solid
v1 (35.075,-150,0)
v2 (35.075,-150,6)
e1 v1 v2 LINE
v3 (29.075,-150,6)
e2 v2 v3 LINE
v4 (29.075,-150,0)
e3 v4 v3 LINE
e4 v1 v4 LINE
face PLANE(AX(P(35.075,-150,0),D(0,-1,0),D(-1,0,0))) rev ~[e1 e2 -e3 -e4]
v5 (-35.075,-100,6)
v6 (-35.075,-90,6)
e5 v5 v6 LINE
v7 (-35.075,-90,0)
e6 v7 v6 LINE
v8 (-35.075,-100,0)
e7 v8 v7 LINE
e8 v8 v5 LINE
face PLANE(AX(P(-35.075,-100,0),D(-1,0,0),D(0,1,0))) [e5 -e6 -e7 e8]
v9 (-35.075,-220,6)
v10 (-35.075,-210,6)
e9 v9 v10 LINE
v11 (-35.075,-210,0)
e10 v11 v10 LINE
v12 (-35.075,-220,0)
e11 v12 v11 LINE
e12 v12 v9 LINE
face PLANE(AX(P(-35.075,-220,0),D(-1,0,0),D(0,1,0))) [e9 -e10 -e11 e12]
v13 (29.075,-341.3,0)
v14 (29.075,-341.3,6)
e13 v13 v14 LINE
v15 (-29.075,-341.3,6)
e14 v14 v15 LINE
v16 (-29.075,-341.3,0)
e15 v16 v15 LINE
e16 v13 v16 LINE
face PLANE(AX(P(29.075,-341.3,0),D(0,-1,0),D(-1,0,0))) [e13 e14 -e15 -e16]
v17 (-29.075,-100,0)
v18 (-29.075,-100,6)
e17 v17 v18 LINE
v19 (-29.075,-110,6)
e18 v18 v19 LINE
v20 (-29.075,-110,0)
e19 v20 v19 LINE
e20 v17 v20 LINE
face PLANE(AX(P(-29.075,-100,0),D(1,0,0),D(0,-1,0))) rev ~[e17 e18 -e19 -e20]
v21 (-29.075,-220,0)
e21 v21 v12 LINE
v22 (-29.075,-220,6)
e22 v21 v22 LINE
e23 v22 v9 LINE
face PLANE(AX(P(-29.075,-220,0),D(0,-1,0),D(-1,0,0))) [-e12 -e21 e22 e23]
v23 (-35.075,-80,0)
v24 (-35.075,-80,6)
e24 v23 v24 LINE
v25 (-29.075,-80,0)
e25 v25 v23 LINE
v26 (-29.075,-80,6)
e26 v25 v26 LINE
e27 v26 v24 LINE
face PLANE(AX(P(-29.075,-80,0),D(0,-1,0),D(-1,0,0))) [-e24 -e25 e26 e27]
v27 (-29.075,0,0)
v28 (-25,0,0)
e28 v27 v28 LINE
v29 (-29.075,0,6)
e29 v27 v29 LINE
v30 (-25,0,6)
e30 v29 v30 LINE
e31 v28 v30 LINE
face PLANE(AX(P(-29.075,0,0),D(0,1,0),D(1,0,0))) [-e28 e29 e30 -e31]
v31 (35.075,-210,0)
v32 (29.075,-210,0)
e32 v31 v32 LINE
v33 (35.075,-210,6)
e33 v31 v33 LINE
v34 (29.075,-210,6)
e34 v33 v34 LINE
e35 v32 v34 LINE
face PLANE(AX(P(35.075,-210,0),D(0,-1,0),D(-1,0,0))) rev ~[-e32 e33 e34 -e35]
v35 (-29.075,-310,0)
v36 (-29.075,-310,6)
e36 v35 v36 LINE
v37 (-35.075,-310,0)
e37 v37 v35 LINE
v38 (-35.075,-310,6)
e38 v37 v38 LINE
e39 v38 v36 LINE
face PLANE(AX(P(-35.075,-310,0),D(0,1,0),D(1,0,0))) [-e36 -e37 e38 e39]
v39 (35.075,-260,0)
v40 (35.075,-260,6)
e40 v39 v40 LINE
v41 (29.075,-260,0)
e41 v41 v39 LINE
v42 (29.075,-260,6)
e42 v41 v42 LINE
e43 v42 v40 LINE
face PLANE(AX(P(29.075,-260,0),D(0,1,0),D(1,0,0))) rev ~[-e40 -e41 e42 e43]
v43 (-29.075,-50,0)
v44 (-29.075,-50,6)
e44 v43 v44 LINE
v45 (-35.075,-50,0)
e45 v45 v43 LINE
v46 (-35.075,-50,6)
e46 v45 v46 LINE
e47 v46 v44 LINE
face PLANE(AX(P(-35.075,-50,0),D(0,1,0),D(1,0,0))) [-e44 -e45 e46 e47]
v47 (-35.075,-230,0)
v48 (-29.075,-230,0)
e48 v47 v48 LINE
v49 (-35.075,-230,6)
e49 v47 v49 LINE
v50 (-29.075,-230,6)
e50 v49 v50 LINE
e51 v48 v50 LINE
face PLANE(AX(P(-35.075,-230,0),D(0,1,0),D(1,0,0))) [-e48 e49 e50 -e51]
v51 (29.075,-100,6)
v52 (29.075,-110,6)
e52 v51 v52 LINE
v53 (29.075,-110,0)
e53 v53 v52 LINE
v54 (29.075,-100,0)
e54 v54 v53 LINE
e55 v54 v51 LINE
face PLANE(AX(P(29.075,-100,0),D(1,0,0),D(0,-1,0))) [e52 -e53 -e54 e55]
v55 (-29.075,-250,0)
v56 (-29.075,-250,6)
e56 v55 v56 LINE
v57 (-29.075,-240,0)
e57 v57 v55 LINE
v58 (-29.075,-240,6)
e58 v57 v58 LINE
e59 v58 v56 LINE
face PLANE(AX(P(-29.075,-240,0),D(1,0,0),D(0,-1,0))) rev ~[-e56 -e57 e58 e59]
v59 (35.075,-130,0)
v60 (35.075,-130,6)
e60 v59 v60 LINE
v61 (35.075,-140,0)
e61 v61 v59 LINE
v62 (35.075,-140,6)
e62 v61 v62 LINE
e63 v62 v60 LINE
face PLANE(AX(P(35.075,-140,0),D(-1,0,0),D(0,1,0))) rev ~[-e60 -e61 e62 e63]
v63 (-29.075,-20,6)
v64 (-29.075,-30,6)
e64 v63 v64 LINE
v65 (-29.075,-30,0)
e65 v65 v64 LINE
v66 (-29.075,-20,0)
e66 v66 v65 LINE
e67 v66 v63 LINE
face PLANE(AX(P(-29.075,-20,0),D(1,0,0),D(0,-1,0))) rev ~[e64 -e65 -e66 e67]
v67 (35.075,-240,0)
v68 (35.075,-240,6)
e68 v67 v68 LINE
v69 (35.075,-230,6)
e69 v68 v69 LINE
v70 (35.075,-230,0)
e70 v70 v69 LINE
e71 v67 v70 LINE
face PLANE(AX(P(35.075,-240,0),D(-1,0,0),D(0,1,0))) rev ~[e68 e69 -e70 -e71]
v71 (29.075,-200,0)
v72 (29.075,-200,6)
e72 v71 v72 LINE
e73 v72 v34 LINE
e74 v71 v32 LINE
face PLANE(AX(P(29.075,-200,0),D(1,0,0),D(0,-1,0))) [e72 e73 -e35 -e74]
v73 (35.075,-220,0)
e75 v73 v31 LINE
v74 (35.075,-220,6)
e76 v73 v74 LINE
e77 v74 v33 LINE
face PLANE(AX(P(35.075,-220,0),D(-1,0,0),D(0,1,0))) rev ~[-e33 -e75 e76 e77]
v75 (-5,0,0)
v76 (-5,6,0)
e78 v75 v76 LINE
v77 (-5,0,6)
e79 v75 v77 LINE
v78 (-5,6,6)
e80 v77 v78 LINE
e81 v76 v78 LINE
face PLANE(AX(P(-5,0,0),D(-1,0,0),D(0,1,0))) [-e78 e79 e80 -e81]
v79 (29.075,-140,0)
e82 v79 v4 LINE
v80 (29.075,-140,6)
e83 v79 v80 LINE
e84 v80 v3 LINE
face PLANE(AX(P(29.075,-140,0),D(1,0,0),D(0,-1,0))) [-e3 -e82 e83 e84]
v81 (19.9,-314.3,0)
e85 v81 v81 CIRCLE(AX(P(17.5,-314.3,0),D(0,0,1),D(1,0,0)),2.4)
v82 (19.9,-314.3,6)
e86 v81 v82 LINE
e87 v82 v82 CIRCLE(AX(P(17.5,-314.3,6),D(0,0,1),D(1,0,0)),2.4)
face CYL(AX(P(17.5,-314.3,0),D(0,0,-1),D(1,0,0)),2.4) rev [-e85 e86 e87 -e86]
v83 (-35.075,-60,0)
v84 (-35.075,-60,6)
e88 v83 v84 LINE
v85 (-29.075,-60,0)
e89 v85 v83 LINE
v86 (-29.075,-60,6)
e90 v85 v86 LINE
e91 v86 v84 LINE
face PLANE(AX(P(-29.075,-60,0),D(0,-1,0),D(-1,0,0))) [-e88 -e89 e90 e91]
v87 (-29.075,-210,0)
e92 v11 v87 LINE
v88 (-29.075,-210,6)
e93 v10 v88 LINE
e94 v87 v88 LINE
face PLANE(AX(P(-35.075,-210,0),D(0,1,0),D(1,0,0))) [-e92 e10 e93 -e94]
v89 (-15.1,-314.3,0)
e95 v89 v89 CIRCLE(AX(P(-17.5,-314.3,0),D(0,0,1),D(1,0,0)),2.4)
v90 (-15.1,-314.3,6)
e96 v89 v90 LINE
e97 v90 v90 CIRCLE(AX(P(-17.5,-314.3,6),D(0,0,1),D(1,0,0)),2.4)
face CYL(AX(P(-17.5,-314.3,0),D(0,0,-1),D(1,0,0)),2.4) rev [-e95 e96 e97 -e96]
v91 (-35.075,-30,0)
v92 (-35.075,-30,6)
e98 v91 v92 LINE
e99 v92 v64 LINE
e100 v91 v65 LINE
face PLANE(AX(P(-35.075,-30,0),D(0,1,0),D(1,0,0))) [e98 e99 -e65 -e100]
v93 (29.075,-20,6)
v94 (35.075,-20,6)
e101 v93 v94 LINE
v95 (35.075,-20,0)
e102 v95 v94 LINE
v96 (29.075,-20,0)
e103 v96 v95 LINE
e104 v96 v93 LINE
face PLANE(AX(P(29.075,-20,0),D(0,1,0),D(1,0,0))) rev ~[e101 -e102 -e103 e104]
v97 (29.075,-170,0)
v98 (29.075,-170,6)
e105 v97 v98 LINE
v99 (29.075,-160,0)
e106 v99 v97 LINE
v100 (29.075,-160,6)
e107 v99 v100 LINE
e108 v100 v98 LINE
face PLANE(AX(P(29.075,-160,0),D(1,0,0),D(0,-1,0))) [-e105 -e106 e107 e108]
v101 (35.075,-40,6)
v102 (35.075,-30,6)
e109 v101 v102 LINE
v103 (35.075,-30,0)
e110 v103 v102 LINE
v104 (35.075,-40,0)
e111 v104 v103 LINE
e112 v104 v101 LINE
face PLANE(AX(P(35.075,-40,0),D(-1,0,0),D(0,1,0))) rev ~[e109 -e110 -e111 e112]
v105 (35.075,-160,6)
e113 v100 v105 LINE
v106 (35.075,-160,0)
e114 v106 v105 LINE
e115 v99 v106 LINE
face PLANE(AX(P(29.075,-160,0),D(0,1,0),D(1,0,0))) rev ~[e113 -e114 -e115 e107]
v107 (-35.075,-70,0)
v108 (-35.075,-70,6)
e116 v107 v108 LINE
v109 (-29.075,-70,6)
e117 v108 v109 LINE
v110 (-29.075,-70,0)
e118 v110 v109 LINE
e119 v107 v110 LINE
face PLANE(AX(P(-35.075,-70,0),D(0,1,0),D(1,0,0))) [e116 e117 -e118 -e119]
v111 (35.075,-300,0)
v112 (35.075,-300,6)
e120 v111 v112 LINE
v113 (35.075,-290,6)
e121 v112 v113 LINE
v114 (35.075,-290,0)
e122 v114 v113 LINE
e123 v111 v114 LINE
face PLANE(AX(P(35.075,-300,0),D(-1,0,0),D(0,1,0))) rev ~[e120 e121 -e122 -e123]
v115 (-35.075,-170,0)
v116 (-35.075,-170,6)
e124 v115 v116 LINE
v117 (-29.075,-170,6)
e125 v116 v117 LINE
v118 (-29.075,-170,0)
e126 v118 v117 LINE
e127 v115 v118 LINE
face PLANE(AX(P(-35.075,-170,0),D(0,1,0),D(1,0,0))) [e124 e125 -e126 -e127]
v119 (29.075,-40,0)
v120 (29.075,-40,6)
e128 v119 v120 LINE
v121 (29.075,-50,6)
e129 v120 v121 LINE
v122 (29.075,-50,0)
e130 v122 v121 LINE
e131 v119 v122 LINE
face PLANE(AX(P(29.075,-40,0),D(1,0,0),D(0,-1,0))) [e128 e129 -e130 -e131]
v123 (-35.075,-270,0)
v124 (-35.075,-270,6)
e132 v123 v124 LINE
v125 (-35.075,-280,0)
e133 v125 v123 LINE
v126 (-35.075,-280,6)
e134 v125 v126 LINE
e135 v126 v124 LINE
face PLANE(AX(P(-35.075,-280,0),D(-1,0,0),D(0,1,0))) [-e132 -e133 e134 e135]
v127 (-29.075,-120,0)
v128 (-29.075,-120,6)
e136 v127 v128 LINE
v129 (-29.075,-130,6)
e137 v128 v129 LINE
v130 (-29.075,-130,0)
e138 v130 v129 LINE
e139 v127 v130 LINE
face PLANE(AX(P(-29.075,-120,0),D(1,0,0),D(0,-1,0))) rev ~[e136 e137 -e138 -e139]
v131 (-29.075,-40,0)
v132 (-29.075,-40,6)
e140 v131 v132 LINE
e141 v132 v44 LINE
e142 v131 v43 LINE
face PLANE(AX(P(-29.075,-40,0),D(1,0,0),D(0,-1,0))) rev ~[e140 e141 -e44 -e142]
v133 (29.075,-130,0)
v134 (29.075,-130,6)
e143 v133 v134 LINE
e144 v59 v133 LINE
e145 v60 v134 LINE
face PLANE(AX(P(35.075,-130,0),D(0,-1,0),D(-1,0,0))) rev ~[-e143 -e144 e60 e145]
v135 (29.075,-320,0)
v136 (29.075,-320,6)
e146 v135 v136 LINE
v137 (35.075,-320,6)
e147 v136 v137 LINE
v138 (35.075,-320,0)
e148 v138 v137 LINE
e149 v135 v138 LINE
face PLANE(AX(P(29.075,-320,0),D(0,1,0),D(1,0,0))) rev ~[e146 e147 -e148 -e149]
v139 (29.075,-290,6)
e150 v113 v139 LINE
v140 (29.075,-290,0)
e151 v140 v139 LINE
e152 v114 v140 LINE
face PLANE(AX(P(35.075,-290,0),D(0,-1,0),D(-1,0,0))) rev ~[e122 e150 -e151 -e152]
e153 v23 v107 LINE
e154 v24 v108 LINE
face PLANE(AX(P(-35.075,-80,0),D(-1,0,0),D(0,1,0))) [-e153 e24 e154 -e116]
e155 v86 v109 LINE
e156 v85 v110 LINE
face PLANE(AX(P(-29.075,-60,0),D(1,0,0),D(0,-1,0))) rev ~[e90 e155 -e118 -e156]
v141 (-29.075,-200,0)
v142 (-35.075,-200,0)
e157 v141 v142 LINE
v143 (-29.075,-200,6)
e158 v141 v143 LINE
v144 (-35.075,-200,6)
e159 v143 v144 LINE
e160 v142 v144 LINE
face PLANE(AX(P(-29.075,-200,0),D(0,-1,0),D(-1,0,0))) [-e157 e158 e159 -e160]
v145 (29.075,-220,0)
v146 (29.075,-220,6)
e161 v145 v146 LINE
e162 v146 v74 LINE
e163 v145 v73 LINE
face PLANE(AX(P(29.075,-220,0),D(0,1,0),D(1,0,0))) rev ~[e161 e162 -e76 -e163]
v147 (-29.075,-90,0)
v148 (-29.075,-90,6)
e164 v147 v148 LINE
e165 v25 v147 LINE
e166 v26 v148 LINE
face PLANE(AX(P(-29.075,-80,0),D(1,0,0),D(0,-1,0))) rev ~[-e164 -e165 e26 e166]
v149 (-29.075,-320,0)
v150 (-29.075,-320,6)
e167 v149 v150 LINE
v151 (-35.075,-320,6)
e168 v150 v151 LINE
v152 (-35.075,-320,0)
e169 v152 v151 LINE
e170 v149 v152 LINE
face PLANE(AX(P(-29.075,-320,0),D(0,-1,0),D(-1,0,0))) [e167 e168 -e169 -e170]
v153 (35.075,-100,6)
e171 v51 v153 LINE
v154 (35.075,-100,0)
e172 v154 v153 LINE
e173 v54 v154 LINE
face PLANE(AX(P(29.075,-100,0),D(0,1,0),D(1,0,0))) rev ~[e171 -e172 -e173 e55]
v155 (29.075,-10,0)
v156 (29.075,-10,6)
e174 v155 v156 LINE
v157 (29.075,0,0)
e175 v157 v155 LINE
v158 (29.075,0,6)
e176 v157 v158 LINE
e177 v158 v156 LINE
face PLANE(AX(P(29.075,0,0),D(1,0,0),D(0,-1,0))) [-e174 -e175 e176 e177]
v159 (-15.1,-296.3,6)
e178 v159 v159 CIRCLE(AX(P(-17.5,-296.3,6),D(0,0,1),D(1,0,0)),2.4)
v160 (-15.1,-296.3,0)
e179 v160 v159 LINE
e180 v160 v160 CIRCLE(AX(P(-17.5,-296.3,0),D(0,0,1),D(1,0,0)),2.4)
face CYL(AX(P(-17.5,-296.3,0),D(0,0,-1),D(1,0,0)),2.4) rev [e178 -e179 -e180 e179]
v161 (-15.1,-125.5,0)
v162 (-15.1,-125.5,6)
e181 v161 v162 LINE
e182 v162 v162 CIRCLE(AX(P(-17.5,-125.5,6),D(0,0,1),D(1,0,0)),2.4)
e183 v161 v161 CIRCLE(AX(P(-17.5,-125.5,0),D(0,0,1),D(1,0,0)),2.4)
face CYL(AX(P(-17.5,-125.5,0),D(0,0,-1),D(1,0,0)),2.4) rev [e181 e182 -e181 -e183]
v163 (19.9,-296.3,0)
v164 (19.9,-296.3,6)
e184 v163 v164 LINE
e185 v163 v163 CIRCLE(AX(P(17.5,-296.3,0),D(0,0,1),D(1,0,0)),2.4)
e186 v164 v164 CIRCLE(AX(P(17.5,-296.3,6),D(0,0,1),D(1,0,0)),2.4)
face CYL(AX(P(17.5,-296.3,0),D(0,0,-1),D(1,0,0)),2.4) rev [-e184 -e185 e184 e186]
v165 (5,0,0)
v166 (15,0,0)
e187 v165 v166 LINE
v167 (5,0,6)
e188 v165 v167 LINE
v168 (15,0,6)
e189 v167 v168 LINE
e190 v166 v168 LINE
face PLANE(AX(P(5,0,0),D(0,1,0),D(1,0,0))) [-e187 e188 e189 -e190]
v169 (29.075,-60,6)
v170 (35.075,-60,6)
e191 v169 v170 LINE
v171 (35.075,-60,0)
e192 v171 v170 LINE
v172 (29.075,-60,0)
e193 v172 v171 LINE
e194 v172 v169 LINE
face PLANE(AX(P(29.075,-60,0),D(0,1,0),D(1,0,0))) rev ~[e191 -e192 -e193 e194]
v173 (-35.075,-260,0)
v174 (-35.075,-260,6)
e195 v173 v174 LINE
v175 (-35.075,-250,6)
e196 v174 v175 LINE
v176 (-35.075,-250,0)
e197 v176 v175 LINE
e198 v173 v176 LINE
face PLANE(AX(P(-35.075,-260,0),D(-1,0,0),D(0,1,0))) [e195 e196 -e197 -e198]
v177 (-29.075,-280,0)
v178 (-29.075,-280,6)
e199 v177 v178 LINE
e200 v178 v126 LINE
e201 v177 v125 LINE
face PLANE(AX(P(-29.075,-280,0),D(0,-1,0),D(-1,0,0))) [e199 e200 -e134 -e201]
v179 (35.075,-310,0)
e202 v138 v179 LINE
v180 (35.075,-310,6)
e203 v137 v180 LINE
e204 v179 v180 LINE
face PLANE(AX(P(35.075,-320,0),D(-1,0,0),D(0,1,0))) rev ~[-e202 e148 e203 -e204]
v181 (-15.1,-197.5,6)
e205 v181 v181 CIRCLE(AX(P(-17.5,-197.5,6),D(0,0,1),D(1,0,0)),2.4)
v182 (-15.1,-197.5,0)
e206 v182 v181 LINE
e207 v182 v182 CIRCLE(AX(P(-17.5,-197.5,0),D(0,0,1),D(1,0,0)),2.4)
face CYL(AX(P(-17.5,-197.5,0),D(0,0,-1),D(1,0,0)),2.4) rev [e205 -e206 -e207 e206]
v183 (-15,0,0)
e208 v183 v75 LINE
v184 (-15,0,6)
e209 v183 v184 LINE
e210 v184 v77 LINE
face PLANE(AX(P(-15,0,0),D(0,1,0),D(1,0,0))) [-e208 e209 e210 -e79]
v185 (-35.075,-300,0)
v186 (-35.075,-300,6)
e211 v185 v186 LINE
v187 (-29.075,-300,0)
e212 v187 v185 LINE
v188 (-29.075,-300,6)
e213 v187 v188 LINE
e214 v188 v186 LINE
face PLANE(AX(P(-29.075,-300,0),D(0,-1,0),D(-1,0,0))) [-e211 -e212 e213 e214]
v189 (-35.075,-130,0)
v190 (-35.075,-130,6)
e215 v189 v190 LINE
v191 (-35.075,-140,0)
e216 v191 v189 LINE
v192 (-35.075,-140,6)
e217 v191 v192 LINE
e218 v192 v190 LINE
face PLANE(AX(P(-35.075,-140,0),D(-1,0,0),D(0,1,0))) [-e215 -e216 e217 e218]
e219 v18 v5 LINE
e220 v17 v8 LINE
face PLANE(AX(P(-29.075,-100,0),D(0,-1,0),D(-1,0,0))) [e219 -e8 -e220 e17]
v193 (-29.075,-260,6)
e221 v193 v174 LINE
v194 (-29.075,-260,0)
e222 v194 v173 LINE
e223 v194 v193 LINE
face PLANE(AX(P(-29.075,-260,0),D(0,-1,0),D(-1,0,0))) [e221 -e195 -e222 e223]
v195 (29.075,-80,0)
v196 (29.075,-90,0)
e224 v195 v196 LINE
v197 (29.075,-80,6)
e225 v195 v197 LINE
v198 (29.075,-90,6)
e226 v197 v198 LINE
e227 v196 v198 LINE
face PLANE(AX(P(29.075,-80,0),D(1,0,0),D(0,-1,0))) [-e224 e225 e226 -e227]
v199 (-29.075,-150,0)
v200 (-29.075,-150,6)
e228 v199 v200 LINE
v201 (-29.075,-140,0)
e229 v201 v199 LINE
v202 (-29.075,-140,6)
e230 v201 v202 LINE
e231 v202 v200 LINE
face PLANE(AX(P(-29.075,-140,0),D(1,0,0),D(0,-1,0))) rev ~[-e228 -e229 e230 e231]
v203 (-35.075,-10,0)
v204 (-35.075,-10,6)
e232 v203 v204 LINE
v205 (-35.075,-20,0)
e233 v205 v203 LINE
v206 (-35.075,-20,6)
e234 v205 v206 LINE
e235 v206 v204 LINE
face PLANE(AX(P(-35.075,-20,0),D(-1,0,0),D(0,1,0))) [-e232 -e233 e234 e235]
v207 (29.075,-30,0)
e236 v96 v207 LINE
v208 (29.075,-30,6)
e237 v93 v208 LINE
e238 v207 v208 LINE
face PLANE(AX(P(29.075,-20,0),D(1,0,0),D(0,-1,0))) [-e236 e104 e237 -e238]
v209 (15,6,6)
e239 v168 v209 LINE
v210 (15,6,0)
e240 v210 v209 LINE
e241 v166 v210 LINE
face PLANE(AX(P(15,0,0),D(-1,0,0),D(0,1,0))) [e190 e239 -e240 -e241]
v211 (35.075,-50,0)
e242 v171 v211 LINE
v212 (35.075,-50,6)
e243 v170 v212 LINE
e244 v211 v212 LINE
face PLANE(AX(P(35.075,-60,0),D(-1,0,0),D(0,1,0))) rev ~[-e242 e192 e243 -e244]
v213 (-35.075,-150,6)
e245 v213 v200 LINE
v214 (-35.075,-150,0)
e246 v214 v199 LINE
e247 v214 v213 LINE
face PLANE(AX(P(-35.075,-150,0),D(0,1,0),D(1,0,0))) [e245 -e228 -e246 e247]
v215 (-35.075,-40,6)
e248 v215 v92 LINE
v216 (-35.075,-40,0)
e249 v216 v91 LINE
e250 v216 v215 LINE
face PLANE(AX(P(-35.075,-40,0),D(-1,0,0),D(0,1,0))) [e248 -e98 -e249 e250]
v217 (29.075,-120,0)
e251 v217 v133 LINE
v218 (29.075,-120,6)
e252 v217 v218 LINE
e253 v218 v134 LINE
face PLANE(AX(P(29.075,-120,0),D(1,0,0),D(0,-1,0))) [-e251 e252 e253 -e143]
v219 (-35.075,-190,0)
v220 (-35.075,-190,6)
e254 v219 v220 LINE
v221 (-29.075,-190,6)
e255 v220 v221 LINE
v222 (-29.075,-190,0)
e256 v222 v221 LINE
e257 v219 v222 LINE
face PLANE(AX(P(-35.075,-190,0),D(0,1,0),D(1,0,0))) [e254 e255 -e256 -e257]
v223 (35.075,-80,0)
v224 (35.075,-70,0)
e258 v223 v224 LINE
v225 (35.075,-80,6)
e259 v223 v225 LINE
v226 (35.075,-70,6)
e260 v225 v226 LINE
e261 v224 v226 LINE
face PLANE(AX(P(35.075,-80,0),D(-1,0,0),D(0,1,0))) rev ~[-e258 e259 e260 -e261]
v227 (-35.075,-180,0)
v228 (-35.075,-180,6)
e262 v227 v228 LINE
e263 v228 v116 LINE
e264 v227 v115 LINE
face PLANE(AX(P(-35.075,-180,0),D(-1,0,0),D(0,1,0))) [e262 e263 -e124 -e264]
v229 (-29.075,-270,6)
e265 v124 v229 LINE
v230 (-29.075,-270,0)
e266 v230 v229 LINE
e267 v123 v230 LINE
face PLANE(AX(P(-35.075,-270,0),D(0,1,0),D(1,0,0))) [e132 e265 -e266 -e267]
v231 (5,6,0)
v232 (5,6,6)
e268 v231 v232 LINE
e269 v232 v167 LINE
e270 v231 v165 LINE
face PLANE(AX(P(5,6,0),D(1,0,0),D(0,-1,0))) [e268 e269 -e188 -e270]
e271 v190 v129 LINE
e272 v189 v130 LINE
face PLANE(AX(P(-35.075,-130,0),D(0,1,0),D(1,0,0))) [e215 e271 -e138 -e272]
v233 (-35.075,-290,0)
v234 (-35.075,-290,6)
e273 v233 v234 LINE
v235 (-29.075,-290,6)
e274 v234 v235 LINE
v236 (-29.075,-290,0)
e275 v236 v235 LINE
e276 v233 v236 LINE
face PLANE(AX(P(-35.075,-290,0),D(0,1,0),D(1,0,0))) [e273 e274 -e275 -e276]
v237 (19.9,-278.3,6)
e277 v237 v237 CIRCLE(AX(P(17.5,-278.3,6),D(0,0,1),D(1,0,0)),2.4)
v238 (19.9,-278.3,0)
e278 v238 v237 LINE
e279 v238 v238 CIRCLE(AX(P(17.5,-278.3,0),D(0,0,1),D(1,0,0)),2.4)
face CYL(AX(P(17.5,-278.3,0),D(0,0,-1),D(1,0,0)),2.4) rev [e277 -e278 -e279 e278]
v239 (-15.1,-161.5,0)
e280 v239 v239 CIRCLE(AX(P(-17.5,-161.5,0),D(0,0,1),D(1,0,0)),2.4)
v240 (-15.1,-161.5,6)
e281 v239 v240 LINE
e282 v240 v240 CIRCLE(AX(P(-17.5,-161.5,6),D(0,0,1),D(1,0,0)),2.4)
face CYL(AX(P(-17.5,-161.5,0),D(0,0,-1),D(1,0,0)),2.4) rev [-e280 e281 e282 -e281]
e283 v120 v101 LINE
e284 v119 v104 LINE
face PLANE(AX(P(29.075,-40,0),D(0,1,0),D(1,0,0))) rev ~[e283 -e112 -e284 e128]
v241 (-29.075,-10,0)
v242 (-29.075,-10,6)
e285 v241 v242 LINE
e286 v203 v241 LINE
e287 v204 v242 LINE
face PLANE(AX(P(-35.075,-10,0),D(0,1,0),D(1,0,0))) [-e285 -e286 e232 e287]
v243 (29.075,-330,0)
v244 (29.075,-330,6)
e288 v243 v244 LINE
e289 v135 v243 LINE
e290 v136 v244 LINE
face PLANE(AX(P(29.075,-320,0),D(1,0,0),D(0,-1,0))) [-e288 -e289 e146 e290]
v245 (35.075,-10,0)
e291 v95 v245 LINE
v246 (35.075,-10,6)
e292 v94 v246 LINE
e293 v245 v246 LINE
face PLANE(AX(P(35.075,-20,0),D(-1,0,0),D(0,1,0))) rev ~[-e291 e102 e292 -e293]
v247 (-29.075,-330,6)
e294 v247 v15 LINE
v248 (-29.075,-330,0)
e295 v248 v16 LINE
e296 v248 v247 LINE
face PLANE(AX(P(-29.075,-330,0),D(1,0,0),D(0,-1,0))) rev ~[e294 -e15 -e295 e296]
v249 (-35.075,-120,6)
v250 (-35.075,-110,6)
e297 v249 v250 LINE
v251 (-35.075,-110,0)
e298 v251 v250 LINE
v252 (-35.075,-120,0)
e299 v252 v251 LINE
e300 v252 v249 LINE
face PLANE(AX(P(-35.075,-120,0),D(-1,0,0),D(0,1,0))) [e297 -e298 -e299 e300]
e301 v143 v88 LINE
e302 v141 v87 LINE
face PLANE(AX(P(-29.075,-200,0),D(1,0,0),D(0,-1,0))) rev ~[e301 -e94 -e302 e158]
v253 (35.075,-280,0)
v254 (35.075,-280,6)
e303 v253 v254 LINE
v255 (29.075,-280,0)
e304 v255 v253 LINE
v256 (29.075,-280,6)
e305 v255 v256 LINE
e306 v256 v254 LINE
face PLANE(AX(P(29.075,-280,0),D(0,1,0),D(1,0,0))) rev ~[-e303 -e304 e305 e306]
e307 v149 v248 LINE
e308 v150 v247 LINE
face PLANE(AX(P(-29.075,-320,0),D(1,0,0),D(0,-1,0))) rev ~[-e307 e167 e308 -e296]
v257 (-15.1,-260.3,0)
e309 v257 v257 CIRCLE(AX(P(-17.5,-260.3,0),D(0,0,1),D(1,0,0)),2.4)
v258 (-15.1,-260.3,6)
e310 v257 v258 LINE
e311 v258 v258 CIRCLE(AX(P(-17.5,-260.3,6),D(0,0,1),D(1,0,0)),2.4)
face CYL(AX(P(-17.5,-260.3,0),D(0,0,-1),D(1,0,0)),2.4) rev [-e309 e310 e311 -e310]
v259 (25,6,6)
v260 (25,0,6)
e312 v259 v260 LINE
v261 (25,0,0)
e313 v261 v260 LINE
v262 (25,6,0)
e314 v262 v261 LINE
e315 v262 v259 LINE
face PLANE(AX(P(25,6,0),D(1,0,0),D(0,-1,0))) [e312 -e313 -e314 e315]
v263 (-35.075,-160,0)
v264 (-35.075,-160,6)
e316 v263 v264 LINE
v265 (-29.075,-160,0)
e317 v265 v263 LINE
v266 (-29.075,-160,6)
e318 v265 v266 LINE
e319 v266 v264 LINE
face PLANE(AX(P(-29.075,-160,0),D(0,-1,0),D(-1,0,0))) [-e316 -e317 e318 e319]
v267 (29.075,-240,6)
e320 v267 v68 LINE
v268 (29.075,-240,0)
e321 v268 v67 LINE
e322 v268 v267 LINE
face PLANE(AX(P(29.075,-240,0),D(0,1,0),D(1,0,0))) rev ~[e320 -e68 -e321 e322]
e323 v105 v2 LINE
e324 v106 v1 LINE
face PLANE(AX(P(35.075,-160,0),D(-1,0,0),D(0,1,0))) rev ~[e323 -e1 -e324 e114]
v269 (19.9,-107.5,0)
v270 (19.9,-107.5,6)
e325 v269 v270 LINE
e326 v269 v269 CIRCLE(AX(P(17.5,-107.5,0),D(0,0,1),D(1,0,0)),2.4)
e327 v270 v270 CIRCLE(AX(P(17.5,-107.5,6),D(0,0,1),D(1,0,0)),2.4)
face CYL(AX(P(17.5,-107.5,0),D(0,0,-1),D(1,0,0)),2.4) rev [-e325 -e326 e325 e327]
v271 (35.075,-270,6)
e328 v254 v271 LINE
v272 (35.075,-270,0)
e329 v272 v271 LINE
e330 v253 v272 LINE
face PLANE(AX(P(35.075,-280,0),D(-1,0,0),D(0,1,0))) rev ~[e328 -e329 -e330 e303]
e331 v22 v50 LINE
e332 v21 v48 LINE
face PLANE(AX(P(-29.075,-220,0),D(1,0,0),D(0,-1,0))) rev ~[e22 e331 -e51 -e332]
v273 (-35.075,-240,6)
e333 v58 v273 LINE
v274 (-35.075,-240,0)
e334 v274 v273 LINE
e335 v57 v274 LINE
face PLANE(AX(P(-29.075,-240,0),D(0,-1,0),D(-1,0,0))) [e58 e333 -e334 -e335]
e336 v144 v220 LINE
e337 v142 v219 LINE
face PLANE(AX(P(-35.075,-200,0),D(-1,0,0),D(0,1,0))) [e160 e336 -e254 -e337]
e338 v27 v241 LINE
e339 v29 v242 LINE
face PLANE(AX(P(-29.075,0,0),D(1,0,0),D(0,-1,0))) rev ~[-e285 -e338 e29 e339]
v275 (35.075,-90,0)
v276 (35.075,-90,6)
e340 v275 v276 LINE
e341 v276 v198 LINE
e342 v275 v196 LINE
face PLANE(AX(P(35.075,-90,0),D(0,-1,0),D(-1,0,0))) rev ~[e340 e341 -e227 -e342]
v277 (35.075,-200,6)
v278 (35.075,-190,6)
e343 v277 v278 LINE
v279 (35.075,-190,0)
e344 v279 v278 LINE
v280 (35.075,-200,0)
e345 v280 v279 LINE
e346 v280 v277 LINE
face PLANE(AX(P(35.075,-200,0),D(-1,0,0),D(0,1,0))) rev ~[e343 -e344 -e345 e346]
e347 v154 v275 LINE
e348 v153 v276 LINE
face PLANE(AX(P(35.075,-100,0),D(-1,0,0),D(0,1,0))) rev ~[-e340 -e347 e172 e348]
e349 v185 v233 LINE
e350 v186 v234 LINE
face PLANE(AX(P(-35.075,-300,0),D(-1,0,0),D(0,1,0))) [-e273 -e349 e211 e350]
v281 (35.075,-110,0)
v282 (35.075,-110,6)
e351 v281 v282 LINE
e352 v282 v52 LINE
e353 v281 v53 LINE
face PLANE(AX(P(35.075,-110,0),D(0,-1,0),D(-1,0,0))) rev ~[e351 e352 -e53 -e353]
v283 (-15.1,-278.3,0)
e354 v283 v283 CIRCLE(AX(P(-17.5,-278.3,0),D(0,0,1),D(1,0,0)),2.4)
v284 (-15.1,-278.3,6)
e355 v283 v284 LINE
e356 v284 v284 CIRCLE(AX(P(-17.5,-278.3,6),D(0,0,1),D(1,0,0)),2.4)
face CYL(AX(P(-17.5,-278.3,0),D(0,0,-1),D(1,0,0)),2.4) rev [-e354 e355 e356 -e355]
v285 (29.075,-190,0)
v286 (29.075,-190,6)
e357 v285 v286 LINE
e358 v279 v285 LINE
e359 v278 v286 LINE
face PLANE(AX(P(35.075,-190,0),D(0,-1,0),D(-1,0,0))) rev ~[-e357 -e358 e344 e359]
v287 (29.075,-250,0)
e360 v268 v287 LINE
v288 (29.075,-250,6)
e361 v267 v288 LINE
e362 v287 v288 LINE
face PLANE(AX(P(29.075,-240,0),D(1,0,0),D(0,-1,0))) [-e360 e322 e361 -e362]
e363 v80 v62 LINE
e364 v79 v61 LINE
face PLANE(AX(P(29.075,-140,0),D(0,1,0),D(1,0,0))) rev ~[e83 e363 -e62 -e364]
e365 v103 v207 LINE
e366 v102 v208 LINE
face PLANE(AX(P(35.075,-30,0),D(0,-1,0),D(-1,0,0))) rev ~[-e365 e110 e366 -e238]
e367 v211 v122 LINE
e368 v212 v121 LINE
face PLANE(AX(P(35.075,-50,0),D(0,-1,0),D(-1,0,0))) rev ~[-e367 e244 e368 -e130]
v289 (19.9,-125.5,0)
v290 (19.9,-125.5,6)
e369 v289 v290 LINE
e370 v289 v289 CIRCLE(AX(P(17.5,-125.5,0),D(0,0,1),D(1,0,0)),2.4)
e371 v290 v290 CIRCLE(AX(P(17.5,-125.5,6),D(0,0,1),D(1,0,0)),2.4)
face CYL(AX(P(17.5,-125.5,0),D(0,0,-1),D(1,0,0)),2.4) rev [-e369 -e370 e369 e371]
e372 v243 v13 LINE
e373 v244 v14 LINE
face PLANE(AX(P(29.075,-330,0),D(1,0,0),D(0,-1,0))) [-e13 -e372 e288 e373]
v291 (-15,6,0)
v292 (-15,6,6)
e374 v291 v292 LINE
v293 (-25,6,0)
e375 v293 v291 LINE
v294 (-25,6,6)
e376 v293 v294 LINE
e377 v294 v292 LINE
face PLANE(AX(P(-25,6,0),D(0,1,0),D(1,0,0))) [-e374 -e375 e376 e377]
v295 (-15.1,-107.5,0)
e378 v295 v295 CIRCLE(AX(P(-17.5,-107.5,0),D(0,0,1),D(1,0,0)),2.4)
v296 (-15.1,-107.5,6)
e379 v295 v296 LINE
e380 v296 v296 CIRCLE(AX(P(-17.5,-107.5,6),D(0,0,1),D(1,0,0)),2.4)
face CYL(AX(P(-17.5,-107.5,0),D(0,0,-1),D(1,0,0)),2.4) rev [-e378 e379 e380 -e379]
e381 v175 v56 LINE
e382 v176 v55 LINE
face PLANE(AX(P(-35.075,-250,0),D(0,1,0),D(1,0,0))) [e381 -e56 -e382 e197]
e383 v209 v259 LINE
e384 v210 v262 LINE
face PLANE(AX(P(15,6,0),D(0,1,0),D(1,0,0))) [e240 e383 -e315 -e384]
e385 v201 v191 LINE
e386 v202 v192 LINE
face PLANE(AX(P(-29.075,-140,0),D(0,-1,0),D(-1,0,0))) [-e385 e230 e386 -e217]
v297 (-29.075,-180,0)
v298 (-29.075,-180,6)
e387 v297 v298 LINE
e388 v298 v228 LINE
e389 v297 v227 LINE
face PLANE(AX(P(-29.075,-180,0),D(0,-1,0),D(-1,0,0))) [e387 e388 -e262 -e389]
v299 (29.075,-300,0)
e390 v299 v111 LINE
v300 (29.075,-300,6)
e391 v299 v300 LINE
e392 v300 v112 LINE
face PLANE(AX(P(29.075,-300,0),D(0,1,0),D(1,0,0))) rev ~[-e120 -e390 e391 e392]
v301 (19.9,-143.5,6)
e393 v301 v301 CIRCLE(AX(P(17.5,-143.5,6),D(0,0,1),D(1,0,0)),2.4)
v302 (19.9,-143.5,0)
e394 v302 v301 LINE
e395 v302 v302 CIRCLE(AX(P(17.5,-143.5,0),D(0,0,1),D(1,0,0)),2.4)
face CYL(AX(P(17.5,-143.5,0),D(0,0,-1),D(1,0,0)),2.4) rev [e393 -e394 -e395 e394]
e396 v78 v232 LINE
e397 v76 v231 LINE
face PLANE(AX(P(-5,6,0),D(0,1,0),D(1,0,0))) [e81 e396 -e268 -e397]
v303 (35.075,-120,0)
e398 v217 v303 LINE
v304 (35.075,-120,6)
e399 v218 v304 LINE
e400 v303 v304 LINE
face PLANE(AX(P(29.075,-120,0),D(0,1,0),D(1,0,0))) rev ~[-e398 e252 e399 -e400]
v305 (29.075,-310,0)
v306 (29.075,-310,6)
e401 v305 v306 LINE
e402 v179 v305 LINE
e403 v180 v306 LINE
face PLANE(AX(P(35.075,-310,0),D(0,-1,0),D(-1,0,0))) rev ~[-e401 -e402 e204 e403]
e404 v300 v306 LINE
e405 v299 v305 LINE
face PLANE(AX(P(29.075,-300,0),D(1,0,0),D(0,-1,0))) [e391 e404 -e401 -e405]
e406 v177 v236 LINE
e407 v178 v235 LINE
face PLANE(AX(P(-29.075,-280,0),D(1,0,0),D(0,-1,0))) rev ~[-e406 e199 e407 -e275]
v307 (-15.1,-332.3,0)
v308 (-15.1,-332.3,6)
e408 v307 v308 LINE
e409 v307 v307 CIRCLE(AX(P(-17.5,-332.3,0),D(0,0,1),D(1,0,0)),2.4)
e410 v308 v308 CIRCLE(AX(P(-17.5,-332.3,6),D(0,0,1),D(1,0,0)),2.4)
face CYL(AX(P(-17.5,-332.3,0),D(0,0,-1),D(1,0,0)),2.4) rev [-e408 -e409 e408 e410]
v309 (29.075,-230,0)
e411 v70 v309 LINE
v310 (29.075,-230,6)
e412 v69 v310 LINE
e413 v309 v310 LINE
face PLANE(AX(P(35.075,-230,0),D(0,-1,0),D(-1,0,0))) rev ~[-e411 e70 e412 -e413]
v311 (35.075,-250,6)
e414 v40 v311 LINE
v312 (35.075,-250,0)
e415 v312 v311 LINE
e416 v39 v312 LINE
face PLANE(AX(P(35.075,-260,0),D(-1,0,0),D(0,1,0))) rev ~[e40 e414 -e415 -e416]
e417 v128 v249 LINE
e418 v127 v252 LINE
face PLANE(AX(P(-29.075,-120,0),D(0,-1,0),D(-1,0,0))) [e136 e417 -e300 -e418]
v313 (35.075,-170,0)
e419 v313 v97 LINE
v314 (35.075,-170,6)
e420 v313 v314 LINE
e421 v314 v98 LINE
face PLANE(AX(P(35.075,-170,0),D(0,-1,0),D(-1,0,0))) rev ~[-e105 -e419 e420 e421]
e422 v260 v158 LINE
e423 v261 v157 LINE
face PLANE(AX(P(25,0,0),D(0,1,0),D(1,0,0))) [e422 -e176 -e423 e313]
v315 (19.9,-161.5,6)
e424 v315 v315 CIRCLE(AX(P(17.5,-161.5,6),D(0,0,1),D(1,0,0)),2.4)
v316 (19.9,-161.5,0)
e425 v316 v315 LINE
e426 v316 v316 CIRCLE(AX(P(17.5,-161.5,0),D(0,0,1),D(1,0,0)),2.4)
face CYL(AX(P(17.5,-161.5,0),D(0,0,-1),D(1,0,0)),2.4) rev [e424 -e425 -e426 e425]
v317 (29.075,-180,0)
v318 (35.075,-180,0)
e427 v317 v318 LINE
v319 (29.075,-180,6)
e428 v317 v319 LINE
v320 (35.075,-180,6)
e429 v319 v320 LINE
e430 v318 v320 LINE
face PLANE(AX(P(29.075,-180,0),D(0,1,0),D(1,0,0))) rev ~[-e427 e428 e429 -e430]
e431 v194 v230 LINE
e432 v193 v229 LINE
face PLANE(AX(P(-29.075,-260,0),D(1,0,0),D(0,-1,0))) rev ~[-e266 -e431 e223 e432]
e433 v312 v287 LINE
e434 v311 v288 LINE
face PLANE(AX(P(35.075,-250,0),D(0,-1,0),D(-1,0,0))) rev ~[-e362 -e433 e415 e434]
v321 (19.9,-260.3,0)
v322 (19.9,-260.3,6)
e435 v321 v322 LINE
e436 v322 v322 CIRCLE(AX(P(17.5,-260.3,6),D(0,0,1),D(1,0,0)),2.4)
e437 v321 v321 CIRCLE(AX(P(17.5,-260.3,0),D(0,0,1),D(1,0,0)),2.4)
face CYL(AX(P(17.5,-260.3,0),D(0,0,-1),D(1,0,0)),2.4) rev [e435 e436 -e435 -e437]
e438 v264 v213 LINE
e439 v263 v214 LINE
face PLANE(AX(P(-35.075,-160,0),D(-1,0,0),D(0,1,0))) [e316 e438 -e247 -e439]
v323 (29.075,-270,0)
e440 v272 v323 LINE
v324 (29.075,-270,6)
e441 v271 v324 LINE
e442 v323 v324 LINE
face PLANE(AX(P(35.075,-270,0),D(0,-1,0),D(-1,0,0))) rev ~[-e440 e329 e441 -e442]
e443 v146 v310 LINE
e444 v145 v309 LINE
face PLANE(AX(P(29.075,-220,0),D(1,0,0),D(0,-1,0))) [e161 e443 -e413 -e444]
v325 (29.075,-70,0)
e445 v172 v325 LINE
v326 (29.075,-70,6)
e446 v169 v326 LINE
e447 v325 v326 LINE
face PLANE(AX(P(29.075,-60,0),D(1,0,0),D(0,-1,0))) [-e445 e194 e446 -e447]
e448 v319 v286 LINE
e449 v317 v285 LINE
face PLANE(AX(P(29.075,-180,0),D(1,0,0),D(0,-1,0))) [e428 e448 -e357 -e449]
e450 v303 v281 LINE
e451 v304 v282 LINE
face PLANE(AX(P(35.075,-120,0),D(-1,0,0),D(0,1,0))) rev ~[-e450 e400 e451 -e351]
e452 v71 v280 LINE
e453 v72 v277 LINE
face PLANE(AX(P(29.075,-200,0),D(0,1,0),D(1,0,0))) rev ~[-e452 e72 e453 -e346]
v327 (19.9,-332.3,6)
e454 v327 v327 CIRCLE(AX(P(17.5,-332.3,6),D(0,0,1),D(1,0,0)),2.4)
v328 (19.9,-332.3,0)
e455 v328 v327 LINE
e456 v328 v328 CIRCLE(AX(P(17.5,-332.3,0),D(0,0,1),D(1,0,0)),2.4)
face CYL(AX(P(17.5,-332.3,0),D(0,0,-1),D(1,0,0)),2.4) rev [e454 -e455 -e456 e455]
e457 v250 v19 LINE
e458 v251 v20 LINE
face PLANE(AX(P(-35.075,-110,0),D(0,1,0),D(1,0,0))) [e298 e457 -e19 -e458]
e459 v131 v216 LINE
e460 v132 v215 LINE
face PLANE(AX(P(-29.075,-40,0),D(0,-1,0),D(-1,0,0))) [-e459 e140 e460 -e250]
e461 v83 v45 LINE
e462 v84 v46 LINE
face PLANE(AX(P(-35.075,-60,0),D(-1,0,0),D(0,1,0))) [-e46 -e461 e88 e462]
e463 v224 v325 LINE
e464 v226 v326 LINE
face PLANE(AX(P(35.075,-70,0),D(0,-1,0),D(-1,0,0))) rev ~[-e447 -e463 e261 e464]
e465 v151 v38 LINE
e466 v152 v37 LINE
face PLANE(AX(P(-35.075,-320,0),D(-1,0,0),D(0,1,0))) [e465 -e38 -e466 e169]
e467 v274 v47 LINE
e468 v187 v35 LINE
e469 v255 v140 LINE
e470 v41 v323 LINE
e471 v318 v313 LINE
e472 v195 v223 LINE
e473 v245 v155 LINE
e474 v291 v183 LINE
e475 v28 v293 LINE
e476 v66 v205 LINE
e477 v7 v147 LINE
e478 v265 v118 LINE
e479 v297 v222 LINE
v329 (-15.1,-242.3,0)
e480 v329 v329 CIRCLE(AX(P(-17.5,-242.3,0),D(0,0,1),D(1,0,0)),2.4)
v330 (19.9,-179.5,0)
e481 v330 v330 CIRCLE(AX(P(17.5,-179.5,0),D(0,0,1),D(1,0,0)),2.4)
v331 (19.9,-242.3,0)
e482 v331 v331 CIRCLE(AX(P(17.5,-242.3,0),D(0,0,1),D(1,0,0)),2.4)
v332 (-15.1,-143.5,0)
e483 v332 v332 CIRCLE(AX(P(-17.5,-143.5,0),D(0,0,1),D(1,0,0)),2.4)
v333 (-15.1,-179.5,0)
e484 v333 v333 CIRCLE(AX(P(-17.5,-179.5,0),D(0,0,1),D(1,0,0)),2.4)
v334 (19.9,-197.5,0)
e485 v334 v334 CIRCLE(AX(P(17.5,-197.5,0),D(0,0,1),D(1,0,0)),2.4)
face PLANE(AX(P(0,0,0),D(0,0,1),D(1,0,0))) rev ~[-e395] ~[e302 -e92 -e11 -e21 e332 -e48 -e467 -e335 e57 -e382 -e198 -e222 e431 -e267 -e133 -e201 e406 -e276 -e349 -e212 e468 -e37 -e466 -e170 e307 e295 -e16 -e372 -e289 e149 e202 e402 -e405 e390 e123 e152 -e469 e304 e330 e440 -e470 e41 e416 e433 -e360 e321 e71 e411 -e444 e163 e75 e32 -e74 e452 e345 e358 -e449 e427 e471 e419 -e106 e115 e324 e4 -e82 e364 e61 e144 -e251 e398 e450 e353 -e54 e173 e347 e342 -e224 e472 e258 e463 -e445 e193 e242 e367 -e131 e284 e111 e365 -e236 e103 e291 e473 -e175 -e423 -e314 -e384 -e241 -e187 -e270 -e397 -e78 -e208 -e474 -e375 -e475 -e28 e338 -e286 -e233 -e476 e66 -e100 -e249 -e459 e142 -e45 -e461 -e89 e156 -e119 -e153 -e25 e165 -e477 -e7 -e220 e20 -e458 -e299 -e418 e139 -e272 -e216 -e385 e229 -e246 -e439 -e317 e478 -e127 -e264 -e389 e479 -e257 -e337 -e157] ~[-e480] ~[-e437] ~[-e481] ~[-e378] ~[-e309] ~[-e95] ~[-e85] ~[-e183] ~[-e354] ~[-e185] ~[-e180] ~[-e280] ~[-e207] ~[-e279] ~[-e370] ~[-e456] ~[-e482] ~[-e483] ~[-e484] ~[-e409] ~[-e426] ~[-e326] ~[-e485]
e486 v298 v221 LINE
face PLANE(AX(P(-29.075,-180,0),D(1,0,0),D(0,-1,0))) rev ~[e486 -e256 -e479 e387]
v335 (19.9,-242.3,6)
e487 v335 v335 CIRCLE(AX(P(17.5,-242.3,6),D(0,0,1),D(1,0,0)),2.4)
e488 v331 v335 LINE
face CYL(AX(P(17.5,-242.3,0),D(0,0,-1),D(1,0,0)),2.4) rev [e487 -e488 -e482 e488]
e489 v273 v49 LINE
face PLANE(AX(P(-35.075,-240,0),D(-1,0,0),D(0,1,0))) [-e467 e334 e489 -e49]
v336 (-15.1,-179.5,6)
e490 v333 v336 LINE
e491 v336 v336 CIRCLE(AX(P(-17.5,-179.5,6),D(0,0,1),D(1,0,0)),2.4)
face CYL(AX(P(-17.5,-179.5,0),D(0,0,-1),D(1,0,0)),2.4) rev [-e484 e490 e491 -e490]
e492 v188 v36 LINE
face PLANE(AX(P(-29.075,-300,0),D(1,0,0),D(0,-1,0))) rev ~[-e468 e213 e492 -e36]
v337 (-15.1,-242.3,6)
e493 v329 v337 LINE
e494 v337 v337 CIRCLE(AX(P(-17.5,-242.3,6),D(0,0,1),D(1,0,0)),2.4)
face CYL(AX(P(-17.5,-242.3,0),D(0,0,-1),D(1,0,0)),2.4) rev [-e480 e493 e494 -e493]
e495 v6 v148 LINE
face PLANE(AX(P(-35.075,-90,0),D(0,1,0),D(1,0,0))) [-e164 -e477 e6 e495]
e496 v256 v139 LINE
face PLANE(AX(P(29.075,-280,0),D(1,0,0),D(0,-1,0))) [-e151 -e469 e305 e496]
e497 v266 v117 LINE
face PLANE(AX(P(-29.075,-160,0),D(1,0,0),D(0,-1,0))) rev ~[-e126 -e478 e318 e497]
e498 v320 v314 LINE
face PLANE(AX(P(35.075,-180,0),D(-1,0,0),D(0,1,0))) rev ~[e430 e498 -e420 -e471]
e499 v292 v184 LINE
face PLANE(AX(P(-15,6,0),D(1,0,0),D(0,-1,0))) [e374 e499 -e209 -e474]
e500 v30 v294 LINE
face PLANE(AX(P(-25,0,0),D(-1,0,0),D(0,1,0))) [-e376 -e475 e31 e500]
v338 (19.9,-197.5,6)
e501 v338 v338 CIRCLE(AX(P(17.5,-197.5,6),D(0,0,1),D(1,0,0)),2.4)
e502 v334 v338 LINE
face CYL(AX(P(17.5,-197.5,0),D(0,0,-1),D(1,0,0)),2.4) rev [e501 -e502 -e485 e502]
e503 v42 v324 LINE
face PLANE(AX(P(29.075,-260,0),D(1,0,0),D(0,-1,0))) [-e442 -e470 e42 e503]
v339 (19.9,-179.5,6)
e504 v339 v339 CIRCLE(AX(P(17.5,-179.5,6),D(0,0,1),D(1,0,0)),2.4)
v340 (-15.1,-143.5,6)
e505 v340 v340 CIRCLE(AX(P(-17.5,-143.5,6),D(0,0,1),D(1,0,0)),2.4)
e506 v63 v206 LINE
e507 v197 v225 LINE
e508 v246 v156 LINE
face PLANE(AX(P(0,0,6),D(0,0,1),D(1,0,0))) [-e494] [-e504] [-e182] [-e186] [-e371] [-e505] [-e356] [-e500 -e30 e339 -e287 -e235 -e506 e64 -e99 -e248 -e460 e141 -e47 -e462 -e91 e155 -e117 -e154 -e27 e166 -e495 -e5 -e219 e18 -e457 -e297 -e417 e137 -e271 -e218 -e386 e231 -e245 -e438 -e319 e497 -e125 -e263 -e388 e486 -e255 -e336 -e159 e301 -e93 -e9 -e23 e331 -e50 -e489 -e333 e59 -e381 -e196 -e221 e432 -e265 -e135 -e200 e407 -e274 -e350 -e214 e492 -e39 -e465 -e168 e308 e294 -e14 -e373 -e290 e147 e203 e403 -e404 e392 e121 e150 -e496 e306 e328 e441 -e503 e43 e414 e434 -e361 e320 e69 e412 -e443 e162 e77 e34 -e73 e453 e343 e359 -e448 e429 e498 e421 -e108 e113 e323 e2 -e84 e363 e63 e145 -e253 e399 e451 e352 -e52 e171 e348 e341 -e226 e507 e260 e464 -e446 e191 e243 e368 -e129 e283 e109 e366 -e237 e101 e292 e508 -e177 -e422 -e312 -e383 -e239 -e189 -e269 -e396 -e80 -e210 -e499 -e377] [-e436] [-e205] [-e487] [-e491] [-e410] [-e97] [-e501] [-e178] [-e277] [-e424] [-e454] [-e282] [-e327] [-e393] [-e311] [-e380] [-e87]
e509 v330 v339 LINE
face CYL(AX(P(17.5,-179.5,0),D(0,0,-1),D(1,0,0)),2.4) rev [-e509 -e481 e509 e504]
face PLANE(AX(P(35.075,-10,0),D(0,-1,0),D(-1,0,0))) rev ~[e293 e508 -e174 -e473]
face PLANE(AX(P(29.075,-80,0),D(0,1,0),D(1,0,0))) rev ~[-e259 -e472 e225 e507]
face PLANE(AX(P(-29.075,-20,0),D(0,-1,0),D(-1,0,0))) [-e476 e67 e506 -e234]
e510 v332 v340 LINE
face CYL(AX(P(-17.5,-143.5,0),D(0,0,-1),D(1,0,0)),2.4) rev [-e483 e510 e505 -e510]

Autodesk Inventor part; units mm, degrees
ref_plane "YZ Plane" through (0, 0, 0) normal (1, 0, 0) x (0, 1, 0)
ref_plane "XZ Plane" through (0, 0, 0) normal (0, 1, 0) x (-1, 0, 0)
ref_plane "XY Plane" through (0, 0, 0) normal (0, 0, 1) x (1, 0, 0)
sketch "Sketch1" plane through (0, 0, 0) normal (0, 0, 1) x (1, 0, 0)
  line L0 (29.075, 0) -> (29.075, -341.3) construction
  line L1 (29.075, -341.3) -> (-29.075, -341.3)
  line L2 (-29.075, -341.3) -> (-29.075, 0) construction
  line L3 (-5, 6) -> (5, 6)
  line L4 (5, 6) -> (5, 0)
  line L5 (-5, 0) -> (-5, 6)
  line L6 (-29.075, 0) -> (-5, 0) construction
  line L7 (5, 0) -> (29.075, 0) construction
  line L8 (15, 6) -> (25, 6)
  line L9 (25, 6) -> (25, 0)
  line L10 (15, 0) -> (15, 6)
  line L11 (-25, 6) -> (-15, 6)
  line L12 (-15, 6) -> (-15, 0)
  line L13 (-25, 0) -> (-25, 6)
  line L14 (-5, 6) -> (5, 6)
  line L15 (5, 6) -> (5, 0)
  line L16 (-5, 0) -> (-5, 6)
  line L17 (-29.075, 0) -> (-25, 0)
  line L18 (-15, 0) -> (-5, 0)
  line L19 (5, 0) -> (15, 0)
  line L20 (25, 0) -> (29.075, 0)
  line L21 (-35.075, -10) -> (-29.075, -10)
  line L22 (-29.075, -10) -> (-29.075, -20) construction
  line L23 (-29.075, -20) -> (-35.075, -20)
  line L24 (-35.075, -20) -> (-35.075, -10)
  line L25 (-29.075, -20) -> (-29.075, -30)
  line L26 (-29.075, 0) -> (-29.075, -10)
  line L27 (-35.075, -30) -> (-29.075, -30)
  line L28 (-29.075, -40) -> (-29.075, -50)
  line L29 (-29.075, -40) -> (-35.075, -40)
  line L30 (-35.075, -40) -> (-35.075, -30)
  line L31 (-35.075, -50) -> (-29.075, -50)
  line L32 (-29.075, -60) -> (-29.075, -70)
  line L33 (-29.075, -60) -> (-35.075, -60)
  line L34 (-35.075, -60) -> (-35.075, -50)
  line L35 (-35.075, -70) -> (-29.075, -70)
  line L36 (-29.075, -80) -> (-29.075, -90)
  line L37 (-29.075, -80) -> (-35.075, -80)
  line L38 (-35.075, -80) -> (-35.075, -70)
  line L39 (-35.075, -90) -> (-29.075, -90)
  line L40 (-29.075, -100) -> (-29.075, -110)
  line L41 (-29.075, -100) -> (-35.075, -100)
  line L42 (-35.075, -100) -> (-35.075, -90)
  line L43 (-35.075, -110) -> (-29.075, -110)
  line L44 (-29.075, -120) -> (-29.075, -130)
  line L45 (-29.075, -120) -> (-35.075, -120)
  line L46 (-35.075, -120) -> (-35.075, -110)
  line L47 (-35.075, -130) -> (-29.075, -130)
  line L48 (-29.075, -140) -> (-29.075, -150)
  line L49 (-29.075, -140) -> (-35.075, -140)
  line L50 (-35.075, -140) -> (-35.075, -130)
  line L51 (-35.075, -150) -> (-29.075, -150)
  line L52 (-29.075, -160) -> (-29.075, -170)
  line L53 (-29.075, -160) -> (-35.075, -160)
  line L54 (-35.075, -160) -> (-35.075, -150)
  line L55 (-35.075, -170) -> (-29.075, -170)
  line L56 (-29.075, -180) -> (-29.075, -190)
  line L57 (-29.075, -180) -> (-35.075, -180)
  line L58 (-35.075, -180) -> (-35.075, -170)
  line L59 (-35.075, -190) -> (-29.075, -190)
  line L60 (-29.075, -200) -> (-29.075, -210)
  line L61 (-29.075, -200) -> (-35.075, -200)
  line L62 (-35.075, -200) -> (-35.075, -190)
  line L63 (-35.075, -210) -> (-29.075, -210)
  line L64 (-29.075, -220) -> (-29.075, -230)
  line L65 (-29.075, -220) -> (-35.075, -220)
  line L66 (-35.075, -220) -> (-35.075, -210)
  line L67 (-35.075, -230) -> (-29.075, -230)
  line L68 (-29.075, -240) -> (-29.075, -250)
  line L69 (-29.075, -240) -> (-35.075, -240)
  line L70 (-35.075, -240) -> (-35.075, -230)
  line L71 (-35.075, -250) -> (-29.075, -250)
  line L72 (-29.075, -260) -> (-29.075, -270)
  line L73 (-29.075, -260) -> (-35.075, -260)
  line L74 (-35.075, -260) -> (-35.075, -250)
  line L75 (-35.075, -270) -> (-29.075, -270)
  line L76 (-29.075, -280) -> (-29.075, -290)
  line L77 (-29.075, -280) -> (-35.075, -280)
  line L78 (-35.075, -280) -> (-35.075, -270)
  line L79 (-35.075, -290) -> (-29.075, -290)
  line L80 (-29.075, -300) -> (-29.075, -310)
  line L81 (-29.075, -300) -> (-35.075, -300)
  line L82 (-35.075, -300) -> (-35.075, -290)
  line L83 (-35.075, -310) -> (-29.075, -310)
  line L84 (-29.075, -320) -> (-29.075, -330)
  line L85 (-29.075, -320) -> (-35.075, -320)
  line L86 (-35.075, -320) -> (-35.075, -310)
  line L87 (-29.075, -330) -> (-29.075, -341.3)
  line L88 (0, 0) -> (0, -341.3) construction
  line L89 (29.075, -341.3) -> (29.075, 0) construction
  line L90 (35.075, -10) -> (29.075, -10)
  line L91 (29.075, -10) -> (29.075, -20) construction
  line L92 (29.075, -20) -> (35.075, -20)
  line L93 (35.075, -20) -> (35.075, -10)
  line L94 (29.075, -20) -> (29.075, -30)
  line L95 (29.075, 0) -> (29.075, -10)
  line L96 (35.075, -30) -> (29.075, -30)
  line L97 (29.075, -40) -> (29.075, -50)
  line L98 (29.075, -40) -> (35.075, -40)
  line L99 (35.075, -40) -> (35.075, -30)
  line L100 (35.075, -50) -> (29.075, -50)
  line L101 (29.075, -60) -> (29.075, -70)
  line L102 (29.075, -60) -> (35.075, -60)
  line L103 (35.075, -60) -> (35.075, -50)
  line L104 (35.075, -70) -> (29.075, -70)
  line L105 (29.075, -80) -> (29.075, -90)
  line L106 (29.075, -80) -> (35.075, -80)
  line L107 (35.075, -80) -> (35.075, -70)
  line L108 (35.075, -90) -> (29.075, -90)
  line L109 (29.075, -100) -> (29.075, -110)
  line L110 (29.075, -100) -> (35.075, -100)
  line L111 (35.075, -100) -> (35.075, -90)
  line L112 (35.075, -110) -> (29.075, -110)
  line L113 (29.075, -120) -> (29.075, -130)
  line L114 (29.075, -120) -> (35.075, -120)
  line L115 (35.075, -120) -> (35.075, -110)
  line L116 (35.075, -130) -> (29.075, -130)
  line L117 (29.075, -140) -> (29.075, -150)
  line L118 (29.075, -140) -> (35.075, -140)
  line L119 (35.075, -140) -> (35.075, -130)
  line L120 (35.075, -150) -> (29.075, -150)
  line L121 (29.075, -160) -> (29.075, -170)
  line L122 (29.075, -160) -> (35.075, -160)
  line L123 (35.075, -160) -> (35.075, -150)
  line L124 (35.075, -170) -> (29.075, -170)
  line L125 (29.075, -180) -> (29.075, -190)
  line L126 (29.075, -180) -> (35.075, -180)
  line L127 (35.075, -180) -> (35.075, -170)
  line L128 (35.075, -190) -> (29.075, -190)
  line L129 (29.075, -200) -> (29.075, -210)
  line L130 (29.075, -200) -> (35.075, -200)
  line L131 (35.075, -200) -> (35.075, -190)
  line L132 (35.075, -210) -> (29.075, -210)
  line L133 (29.075, -220) -> (29.075, -230)
  line L134 (29.075, -220) -> (35.075, -220)
  line L135 (35.075, -220) -> (35.075, -210)
  line L136 (35.075, -230) -> (29.075, -230)
  line L137 (29.075, -240) -> (29.075, -250)
  line L138 (29.075, -240) -> (35.075, -240)
  line L139 (35.075, -240) -> (35.075, -230)
  line L140 (35.075, -250) -> (29.075, -250)
  line L141 (29.075, -260) -> (29.075, -270)
  line L142 (29.075, -260) -> (35.075, -260)
  line L143 (35.075, -260) -> (35.075, -250)
  line L144 (35.075, -270) -> (29.075, -270)
  line L145 (29.075, -280) -> (29.075, -290)
  line L146 (29.075, -280) -> (35.075, -280)
  line L147 (35.075, -280) -> (35.075, -270)
  line L148 (35.075, -290) -> (29.075, -290)
  line L149 (29.075, -300) -> (29.075, -310)
  line L150 (29.075, -300) -> (35.075, -300)
  line L151 (35.075, -300) -> (35.075, -290)
  line L152 (35.075, -310) -> (29.075, -310)
  line L153 (29.075, -320) -> (29.075, -330)
  line L154 (29.075, -320) -> (35.075, -320)
  line L155 (35.075, -320) -> (35.075, -310)
  line L156 (29.075, -330) -> (29.075, -341.3)
  circle A0 centre (17.5, -332.3) radius 2.4
  circle A1 centre (17.5, -197.5) radius 2.4
  circle A2 centre (17.5, -314.3) radius 2.4
  circle A3 centre (17.5, -179.5) radius 2.4
  circle A4 centre (17.5, -296.3) radius 2.4
  circle A5 centre (17.5, -161.5) radius 2.4
  circle A6 centre (17.5, -278.3) radius 2.4
  circle A7 centre (17.5, -143.5) radius 2.4
  circle A8 centre (17.5, -260.3) radius 2.4
  circle A9 centre (17.5, -125.5) radius 2.4
  circle A10 centre (17.5, -242.3) radius 2.4
  circle A11 centre (17.5, -107.5) radius 2.4
  circle A12 centre (-17.5, -332.3) radius 2.4
  circle A13 centre (-17.5, -197.5) radius 2.4
  circle A14 centre (-17.5, -314.3) radius 2.4
  circle A15 centre (-17.5, -179.5) radius 2.4
  circle A16 centre (-17.5, -296.3) radius 2.4
  circle A17 centre (-17.5, -161.5) radius 2.4
  circle A18 centre (-17.5, -278.3) radius 2.4
  circle A19 centre (-17.5, -143.5) radius 2.4
  circle A20 centre (-17.5, -260.3) radius 2.4
  circle A21 centre (-17.5, -125.5) radius 2.4
  circle A22 centre (-17.5, -242.3) radius 2.4
  circle A23 centre (-17.5, -107.5) radius 2.4
  point P0 (0, 6)
  point P1 (20, 0)
  point P2 (20, 0)
  point P3 (20, 6)
  point P4 (-20, 0)
  point P5 (-20, 0)
  point P6 (-20, 6)
  point P7 (0, 6)
  point P8 (10, 0)
  dimension "d7" = 341.3
  dimension "d9" = 58.15
  dimension "d11" = 10
  dimension "d12" = 6
  dimension "d38" = 20
  dimension "d49" = 20
  dimension "d58" = 6
  dimension "d60" = 10
  dimension "d61" = 10
  dimension "d62" = 10
  dimension "d69" = 20
  dimension "d75" = 4.8
  dimension "d76" = 17.5
  dimension "d77" = 9
  dimension "d78" = 4.8
  dimension "d80" = 134.8
  dimension "d83" = 18
  dimension "d86" = 35
extrude "Extrusion1" add sketch "Sketch1" along normal blind 6
equation "\"d7\" = supportL"
equation "\"d9\" = supportXW"
equation "\"d11\" = fingerW"
equation "\"d12\" = fingerH"
equation "\"d38\" = fingerSpacing"
equation "\"d49\" = fingerSpacing"
equation "\"d58\" = fingerH"
equation "\"d60\" = fingerW"
equation "\"d61\" = fingerSpacing - fingerW"
equation "\"d62\" = 0.5 * fingerSpacing"
equation "\"d69\" = fingerSpacing"
equation "\"d75\" = clearanceM4"
equation "\"d76\" = 0.5 * actuatorMountX"
equation "\"d77\" = 0.5 * actuatorMountY"
equation "\"d78\" = d79"
equation "\"d80\" = acutatorMountSpacing"
equation "\"d83\" = actuatorMountY"
equation "\"d86\" = actuatorMountX"
equation "\"d54\" = thickness"
equation "\"moduleWidth\" = 118"
equation "\"moduleHeight\" = 96"
equation "\"moduleMountD\" = 6.8"
equation "\"moduleCornerR\" = 5"
equation "\"d4\" = moduleCornerR"
equation "\"d5\" = moduleMountD"
equation "\"d6\" = moduleMountD"
equation "\"d8\" = moduleMountD"
equation "\"d10\" = moduleMountD"
equation "\"moduleOpeningR\" = 25"
equation "\"d13\" = moduleOpeningR"
equation "\"thickness\" = 6"
equation "\"d15\" = thickness"
equation "\"d16\" = 0"
equation "\"kerf\" = 0.15"
equation "\"fingerW\" = 10"
equation "\"fingerSpacing\" = 20"
equation "\"fingerholeW\" = fingerW - 2 * kerf"
equation "\"fingerholeH\" = thickness - kerf"
equation "\"moduleMountClearance\" = 19"
equation "\"actuatorW\" = 28"
equation "\"actuatorH\" = 40.8"
equation "\"openingMFC\" = 45"
equation "\"d28\" = thickness"
equation "\"d29\" = thickness"
equation "\"d30\" = 0.5 * actuatorH + thickness"
equation "\"d32\" = fingerholeH"
equation "\"d33\" = fingerholeW"
equation "\"d41\" = fingerholeH"
equation "\"d42\" = fingerholeW"
equation "\"supportSpacingFromMounting\" = 15"
equation "\"d52\" = 58.075"
equation "\"d53\" = 9.475"
equation "\"d0\" = moduleHeight"
equation "\"d1\" = moduleWidth"
equation "\"d17\" = openingMFC"
equation "\"d19\" = moduleMountClearance"
equation "\"d31\" = supportSpacingFromMounting"
equation "\"supportXW\" = -2 * thickness + moduleMountW - 2 * supportSpacingFromMounting + kerf"
equation "\"chairThickness\" = 12.7"
equation "\"supportL\" = -chairThickness + dildoL + actuatorMountL - thickness"
equation "\"fingerH\" = thickness"
equation "\"d18\" = fingerH"
equation "\"d24\" = supportL"
equation "\"d44\" = thickness"
equation "\"d47\" = 0"
equation "\"d64\" = 9.4"
equation "\"supportsCTCZ\" = d64"
equation "\"clearanceM4\" = 4.8"
equation "\"actuatorMountX\" = 35"
equation "\"actuatorMountY\" = 18"
equation "\"acutatorMountSpacing\" = 134.8"
equation "\"d79\" = 4.8"
equation "\"moduleMountW\" = 100"
equation "\"dildoL\" = 170"
equation "\"actuatorMountL\" = 190"
properties part number "Module_spacerX_MFC"
